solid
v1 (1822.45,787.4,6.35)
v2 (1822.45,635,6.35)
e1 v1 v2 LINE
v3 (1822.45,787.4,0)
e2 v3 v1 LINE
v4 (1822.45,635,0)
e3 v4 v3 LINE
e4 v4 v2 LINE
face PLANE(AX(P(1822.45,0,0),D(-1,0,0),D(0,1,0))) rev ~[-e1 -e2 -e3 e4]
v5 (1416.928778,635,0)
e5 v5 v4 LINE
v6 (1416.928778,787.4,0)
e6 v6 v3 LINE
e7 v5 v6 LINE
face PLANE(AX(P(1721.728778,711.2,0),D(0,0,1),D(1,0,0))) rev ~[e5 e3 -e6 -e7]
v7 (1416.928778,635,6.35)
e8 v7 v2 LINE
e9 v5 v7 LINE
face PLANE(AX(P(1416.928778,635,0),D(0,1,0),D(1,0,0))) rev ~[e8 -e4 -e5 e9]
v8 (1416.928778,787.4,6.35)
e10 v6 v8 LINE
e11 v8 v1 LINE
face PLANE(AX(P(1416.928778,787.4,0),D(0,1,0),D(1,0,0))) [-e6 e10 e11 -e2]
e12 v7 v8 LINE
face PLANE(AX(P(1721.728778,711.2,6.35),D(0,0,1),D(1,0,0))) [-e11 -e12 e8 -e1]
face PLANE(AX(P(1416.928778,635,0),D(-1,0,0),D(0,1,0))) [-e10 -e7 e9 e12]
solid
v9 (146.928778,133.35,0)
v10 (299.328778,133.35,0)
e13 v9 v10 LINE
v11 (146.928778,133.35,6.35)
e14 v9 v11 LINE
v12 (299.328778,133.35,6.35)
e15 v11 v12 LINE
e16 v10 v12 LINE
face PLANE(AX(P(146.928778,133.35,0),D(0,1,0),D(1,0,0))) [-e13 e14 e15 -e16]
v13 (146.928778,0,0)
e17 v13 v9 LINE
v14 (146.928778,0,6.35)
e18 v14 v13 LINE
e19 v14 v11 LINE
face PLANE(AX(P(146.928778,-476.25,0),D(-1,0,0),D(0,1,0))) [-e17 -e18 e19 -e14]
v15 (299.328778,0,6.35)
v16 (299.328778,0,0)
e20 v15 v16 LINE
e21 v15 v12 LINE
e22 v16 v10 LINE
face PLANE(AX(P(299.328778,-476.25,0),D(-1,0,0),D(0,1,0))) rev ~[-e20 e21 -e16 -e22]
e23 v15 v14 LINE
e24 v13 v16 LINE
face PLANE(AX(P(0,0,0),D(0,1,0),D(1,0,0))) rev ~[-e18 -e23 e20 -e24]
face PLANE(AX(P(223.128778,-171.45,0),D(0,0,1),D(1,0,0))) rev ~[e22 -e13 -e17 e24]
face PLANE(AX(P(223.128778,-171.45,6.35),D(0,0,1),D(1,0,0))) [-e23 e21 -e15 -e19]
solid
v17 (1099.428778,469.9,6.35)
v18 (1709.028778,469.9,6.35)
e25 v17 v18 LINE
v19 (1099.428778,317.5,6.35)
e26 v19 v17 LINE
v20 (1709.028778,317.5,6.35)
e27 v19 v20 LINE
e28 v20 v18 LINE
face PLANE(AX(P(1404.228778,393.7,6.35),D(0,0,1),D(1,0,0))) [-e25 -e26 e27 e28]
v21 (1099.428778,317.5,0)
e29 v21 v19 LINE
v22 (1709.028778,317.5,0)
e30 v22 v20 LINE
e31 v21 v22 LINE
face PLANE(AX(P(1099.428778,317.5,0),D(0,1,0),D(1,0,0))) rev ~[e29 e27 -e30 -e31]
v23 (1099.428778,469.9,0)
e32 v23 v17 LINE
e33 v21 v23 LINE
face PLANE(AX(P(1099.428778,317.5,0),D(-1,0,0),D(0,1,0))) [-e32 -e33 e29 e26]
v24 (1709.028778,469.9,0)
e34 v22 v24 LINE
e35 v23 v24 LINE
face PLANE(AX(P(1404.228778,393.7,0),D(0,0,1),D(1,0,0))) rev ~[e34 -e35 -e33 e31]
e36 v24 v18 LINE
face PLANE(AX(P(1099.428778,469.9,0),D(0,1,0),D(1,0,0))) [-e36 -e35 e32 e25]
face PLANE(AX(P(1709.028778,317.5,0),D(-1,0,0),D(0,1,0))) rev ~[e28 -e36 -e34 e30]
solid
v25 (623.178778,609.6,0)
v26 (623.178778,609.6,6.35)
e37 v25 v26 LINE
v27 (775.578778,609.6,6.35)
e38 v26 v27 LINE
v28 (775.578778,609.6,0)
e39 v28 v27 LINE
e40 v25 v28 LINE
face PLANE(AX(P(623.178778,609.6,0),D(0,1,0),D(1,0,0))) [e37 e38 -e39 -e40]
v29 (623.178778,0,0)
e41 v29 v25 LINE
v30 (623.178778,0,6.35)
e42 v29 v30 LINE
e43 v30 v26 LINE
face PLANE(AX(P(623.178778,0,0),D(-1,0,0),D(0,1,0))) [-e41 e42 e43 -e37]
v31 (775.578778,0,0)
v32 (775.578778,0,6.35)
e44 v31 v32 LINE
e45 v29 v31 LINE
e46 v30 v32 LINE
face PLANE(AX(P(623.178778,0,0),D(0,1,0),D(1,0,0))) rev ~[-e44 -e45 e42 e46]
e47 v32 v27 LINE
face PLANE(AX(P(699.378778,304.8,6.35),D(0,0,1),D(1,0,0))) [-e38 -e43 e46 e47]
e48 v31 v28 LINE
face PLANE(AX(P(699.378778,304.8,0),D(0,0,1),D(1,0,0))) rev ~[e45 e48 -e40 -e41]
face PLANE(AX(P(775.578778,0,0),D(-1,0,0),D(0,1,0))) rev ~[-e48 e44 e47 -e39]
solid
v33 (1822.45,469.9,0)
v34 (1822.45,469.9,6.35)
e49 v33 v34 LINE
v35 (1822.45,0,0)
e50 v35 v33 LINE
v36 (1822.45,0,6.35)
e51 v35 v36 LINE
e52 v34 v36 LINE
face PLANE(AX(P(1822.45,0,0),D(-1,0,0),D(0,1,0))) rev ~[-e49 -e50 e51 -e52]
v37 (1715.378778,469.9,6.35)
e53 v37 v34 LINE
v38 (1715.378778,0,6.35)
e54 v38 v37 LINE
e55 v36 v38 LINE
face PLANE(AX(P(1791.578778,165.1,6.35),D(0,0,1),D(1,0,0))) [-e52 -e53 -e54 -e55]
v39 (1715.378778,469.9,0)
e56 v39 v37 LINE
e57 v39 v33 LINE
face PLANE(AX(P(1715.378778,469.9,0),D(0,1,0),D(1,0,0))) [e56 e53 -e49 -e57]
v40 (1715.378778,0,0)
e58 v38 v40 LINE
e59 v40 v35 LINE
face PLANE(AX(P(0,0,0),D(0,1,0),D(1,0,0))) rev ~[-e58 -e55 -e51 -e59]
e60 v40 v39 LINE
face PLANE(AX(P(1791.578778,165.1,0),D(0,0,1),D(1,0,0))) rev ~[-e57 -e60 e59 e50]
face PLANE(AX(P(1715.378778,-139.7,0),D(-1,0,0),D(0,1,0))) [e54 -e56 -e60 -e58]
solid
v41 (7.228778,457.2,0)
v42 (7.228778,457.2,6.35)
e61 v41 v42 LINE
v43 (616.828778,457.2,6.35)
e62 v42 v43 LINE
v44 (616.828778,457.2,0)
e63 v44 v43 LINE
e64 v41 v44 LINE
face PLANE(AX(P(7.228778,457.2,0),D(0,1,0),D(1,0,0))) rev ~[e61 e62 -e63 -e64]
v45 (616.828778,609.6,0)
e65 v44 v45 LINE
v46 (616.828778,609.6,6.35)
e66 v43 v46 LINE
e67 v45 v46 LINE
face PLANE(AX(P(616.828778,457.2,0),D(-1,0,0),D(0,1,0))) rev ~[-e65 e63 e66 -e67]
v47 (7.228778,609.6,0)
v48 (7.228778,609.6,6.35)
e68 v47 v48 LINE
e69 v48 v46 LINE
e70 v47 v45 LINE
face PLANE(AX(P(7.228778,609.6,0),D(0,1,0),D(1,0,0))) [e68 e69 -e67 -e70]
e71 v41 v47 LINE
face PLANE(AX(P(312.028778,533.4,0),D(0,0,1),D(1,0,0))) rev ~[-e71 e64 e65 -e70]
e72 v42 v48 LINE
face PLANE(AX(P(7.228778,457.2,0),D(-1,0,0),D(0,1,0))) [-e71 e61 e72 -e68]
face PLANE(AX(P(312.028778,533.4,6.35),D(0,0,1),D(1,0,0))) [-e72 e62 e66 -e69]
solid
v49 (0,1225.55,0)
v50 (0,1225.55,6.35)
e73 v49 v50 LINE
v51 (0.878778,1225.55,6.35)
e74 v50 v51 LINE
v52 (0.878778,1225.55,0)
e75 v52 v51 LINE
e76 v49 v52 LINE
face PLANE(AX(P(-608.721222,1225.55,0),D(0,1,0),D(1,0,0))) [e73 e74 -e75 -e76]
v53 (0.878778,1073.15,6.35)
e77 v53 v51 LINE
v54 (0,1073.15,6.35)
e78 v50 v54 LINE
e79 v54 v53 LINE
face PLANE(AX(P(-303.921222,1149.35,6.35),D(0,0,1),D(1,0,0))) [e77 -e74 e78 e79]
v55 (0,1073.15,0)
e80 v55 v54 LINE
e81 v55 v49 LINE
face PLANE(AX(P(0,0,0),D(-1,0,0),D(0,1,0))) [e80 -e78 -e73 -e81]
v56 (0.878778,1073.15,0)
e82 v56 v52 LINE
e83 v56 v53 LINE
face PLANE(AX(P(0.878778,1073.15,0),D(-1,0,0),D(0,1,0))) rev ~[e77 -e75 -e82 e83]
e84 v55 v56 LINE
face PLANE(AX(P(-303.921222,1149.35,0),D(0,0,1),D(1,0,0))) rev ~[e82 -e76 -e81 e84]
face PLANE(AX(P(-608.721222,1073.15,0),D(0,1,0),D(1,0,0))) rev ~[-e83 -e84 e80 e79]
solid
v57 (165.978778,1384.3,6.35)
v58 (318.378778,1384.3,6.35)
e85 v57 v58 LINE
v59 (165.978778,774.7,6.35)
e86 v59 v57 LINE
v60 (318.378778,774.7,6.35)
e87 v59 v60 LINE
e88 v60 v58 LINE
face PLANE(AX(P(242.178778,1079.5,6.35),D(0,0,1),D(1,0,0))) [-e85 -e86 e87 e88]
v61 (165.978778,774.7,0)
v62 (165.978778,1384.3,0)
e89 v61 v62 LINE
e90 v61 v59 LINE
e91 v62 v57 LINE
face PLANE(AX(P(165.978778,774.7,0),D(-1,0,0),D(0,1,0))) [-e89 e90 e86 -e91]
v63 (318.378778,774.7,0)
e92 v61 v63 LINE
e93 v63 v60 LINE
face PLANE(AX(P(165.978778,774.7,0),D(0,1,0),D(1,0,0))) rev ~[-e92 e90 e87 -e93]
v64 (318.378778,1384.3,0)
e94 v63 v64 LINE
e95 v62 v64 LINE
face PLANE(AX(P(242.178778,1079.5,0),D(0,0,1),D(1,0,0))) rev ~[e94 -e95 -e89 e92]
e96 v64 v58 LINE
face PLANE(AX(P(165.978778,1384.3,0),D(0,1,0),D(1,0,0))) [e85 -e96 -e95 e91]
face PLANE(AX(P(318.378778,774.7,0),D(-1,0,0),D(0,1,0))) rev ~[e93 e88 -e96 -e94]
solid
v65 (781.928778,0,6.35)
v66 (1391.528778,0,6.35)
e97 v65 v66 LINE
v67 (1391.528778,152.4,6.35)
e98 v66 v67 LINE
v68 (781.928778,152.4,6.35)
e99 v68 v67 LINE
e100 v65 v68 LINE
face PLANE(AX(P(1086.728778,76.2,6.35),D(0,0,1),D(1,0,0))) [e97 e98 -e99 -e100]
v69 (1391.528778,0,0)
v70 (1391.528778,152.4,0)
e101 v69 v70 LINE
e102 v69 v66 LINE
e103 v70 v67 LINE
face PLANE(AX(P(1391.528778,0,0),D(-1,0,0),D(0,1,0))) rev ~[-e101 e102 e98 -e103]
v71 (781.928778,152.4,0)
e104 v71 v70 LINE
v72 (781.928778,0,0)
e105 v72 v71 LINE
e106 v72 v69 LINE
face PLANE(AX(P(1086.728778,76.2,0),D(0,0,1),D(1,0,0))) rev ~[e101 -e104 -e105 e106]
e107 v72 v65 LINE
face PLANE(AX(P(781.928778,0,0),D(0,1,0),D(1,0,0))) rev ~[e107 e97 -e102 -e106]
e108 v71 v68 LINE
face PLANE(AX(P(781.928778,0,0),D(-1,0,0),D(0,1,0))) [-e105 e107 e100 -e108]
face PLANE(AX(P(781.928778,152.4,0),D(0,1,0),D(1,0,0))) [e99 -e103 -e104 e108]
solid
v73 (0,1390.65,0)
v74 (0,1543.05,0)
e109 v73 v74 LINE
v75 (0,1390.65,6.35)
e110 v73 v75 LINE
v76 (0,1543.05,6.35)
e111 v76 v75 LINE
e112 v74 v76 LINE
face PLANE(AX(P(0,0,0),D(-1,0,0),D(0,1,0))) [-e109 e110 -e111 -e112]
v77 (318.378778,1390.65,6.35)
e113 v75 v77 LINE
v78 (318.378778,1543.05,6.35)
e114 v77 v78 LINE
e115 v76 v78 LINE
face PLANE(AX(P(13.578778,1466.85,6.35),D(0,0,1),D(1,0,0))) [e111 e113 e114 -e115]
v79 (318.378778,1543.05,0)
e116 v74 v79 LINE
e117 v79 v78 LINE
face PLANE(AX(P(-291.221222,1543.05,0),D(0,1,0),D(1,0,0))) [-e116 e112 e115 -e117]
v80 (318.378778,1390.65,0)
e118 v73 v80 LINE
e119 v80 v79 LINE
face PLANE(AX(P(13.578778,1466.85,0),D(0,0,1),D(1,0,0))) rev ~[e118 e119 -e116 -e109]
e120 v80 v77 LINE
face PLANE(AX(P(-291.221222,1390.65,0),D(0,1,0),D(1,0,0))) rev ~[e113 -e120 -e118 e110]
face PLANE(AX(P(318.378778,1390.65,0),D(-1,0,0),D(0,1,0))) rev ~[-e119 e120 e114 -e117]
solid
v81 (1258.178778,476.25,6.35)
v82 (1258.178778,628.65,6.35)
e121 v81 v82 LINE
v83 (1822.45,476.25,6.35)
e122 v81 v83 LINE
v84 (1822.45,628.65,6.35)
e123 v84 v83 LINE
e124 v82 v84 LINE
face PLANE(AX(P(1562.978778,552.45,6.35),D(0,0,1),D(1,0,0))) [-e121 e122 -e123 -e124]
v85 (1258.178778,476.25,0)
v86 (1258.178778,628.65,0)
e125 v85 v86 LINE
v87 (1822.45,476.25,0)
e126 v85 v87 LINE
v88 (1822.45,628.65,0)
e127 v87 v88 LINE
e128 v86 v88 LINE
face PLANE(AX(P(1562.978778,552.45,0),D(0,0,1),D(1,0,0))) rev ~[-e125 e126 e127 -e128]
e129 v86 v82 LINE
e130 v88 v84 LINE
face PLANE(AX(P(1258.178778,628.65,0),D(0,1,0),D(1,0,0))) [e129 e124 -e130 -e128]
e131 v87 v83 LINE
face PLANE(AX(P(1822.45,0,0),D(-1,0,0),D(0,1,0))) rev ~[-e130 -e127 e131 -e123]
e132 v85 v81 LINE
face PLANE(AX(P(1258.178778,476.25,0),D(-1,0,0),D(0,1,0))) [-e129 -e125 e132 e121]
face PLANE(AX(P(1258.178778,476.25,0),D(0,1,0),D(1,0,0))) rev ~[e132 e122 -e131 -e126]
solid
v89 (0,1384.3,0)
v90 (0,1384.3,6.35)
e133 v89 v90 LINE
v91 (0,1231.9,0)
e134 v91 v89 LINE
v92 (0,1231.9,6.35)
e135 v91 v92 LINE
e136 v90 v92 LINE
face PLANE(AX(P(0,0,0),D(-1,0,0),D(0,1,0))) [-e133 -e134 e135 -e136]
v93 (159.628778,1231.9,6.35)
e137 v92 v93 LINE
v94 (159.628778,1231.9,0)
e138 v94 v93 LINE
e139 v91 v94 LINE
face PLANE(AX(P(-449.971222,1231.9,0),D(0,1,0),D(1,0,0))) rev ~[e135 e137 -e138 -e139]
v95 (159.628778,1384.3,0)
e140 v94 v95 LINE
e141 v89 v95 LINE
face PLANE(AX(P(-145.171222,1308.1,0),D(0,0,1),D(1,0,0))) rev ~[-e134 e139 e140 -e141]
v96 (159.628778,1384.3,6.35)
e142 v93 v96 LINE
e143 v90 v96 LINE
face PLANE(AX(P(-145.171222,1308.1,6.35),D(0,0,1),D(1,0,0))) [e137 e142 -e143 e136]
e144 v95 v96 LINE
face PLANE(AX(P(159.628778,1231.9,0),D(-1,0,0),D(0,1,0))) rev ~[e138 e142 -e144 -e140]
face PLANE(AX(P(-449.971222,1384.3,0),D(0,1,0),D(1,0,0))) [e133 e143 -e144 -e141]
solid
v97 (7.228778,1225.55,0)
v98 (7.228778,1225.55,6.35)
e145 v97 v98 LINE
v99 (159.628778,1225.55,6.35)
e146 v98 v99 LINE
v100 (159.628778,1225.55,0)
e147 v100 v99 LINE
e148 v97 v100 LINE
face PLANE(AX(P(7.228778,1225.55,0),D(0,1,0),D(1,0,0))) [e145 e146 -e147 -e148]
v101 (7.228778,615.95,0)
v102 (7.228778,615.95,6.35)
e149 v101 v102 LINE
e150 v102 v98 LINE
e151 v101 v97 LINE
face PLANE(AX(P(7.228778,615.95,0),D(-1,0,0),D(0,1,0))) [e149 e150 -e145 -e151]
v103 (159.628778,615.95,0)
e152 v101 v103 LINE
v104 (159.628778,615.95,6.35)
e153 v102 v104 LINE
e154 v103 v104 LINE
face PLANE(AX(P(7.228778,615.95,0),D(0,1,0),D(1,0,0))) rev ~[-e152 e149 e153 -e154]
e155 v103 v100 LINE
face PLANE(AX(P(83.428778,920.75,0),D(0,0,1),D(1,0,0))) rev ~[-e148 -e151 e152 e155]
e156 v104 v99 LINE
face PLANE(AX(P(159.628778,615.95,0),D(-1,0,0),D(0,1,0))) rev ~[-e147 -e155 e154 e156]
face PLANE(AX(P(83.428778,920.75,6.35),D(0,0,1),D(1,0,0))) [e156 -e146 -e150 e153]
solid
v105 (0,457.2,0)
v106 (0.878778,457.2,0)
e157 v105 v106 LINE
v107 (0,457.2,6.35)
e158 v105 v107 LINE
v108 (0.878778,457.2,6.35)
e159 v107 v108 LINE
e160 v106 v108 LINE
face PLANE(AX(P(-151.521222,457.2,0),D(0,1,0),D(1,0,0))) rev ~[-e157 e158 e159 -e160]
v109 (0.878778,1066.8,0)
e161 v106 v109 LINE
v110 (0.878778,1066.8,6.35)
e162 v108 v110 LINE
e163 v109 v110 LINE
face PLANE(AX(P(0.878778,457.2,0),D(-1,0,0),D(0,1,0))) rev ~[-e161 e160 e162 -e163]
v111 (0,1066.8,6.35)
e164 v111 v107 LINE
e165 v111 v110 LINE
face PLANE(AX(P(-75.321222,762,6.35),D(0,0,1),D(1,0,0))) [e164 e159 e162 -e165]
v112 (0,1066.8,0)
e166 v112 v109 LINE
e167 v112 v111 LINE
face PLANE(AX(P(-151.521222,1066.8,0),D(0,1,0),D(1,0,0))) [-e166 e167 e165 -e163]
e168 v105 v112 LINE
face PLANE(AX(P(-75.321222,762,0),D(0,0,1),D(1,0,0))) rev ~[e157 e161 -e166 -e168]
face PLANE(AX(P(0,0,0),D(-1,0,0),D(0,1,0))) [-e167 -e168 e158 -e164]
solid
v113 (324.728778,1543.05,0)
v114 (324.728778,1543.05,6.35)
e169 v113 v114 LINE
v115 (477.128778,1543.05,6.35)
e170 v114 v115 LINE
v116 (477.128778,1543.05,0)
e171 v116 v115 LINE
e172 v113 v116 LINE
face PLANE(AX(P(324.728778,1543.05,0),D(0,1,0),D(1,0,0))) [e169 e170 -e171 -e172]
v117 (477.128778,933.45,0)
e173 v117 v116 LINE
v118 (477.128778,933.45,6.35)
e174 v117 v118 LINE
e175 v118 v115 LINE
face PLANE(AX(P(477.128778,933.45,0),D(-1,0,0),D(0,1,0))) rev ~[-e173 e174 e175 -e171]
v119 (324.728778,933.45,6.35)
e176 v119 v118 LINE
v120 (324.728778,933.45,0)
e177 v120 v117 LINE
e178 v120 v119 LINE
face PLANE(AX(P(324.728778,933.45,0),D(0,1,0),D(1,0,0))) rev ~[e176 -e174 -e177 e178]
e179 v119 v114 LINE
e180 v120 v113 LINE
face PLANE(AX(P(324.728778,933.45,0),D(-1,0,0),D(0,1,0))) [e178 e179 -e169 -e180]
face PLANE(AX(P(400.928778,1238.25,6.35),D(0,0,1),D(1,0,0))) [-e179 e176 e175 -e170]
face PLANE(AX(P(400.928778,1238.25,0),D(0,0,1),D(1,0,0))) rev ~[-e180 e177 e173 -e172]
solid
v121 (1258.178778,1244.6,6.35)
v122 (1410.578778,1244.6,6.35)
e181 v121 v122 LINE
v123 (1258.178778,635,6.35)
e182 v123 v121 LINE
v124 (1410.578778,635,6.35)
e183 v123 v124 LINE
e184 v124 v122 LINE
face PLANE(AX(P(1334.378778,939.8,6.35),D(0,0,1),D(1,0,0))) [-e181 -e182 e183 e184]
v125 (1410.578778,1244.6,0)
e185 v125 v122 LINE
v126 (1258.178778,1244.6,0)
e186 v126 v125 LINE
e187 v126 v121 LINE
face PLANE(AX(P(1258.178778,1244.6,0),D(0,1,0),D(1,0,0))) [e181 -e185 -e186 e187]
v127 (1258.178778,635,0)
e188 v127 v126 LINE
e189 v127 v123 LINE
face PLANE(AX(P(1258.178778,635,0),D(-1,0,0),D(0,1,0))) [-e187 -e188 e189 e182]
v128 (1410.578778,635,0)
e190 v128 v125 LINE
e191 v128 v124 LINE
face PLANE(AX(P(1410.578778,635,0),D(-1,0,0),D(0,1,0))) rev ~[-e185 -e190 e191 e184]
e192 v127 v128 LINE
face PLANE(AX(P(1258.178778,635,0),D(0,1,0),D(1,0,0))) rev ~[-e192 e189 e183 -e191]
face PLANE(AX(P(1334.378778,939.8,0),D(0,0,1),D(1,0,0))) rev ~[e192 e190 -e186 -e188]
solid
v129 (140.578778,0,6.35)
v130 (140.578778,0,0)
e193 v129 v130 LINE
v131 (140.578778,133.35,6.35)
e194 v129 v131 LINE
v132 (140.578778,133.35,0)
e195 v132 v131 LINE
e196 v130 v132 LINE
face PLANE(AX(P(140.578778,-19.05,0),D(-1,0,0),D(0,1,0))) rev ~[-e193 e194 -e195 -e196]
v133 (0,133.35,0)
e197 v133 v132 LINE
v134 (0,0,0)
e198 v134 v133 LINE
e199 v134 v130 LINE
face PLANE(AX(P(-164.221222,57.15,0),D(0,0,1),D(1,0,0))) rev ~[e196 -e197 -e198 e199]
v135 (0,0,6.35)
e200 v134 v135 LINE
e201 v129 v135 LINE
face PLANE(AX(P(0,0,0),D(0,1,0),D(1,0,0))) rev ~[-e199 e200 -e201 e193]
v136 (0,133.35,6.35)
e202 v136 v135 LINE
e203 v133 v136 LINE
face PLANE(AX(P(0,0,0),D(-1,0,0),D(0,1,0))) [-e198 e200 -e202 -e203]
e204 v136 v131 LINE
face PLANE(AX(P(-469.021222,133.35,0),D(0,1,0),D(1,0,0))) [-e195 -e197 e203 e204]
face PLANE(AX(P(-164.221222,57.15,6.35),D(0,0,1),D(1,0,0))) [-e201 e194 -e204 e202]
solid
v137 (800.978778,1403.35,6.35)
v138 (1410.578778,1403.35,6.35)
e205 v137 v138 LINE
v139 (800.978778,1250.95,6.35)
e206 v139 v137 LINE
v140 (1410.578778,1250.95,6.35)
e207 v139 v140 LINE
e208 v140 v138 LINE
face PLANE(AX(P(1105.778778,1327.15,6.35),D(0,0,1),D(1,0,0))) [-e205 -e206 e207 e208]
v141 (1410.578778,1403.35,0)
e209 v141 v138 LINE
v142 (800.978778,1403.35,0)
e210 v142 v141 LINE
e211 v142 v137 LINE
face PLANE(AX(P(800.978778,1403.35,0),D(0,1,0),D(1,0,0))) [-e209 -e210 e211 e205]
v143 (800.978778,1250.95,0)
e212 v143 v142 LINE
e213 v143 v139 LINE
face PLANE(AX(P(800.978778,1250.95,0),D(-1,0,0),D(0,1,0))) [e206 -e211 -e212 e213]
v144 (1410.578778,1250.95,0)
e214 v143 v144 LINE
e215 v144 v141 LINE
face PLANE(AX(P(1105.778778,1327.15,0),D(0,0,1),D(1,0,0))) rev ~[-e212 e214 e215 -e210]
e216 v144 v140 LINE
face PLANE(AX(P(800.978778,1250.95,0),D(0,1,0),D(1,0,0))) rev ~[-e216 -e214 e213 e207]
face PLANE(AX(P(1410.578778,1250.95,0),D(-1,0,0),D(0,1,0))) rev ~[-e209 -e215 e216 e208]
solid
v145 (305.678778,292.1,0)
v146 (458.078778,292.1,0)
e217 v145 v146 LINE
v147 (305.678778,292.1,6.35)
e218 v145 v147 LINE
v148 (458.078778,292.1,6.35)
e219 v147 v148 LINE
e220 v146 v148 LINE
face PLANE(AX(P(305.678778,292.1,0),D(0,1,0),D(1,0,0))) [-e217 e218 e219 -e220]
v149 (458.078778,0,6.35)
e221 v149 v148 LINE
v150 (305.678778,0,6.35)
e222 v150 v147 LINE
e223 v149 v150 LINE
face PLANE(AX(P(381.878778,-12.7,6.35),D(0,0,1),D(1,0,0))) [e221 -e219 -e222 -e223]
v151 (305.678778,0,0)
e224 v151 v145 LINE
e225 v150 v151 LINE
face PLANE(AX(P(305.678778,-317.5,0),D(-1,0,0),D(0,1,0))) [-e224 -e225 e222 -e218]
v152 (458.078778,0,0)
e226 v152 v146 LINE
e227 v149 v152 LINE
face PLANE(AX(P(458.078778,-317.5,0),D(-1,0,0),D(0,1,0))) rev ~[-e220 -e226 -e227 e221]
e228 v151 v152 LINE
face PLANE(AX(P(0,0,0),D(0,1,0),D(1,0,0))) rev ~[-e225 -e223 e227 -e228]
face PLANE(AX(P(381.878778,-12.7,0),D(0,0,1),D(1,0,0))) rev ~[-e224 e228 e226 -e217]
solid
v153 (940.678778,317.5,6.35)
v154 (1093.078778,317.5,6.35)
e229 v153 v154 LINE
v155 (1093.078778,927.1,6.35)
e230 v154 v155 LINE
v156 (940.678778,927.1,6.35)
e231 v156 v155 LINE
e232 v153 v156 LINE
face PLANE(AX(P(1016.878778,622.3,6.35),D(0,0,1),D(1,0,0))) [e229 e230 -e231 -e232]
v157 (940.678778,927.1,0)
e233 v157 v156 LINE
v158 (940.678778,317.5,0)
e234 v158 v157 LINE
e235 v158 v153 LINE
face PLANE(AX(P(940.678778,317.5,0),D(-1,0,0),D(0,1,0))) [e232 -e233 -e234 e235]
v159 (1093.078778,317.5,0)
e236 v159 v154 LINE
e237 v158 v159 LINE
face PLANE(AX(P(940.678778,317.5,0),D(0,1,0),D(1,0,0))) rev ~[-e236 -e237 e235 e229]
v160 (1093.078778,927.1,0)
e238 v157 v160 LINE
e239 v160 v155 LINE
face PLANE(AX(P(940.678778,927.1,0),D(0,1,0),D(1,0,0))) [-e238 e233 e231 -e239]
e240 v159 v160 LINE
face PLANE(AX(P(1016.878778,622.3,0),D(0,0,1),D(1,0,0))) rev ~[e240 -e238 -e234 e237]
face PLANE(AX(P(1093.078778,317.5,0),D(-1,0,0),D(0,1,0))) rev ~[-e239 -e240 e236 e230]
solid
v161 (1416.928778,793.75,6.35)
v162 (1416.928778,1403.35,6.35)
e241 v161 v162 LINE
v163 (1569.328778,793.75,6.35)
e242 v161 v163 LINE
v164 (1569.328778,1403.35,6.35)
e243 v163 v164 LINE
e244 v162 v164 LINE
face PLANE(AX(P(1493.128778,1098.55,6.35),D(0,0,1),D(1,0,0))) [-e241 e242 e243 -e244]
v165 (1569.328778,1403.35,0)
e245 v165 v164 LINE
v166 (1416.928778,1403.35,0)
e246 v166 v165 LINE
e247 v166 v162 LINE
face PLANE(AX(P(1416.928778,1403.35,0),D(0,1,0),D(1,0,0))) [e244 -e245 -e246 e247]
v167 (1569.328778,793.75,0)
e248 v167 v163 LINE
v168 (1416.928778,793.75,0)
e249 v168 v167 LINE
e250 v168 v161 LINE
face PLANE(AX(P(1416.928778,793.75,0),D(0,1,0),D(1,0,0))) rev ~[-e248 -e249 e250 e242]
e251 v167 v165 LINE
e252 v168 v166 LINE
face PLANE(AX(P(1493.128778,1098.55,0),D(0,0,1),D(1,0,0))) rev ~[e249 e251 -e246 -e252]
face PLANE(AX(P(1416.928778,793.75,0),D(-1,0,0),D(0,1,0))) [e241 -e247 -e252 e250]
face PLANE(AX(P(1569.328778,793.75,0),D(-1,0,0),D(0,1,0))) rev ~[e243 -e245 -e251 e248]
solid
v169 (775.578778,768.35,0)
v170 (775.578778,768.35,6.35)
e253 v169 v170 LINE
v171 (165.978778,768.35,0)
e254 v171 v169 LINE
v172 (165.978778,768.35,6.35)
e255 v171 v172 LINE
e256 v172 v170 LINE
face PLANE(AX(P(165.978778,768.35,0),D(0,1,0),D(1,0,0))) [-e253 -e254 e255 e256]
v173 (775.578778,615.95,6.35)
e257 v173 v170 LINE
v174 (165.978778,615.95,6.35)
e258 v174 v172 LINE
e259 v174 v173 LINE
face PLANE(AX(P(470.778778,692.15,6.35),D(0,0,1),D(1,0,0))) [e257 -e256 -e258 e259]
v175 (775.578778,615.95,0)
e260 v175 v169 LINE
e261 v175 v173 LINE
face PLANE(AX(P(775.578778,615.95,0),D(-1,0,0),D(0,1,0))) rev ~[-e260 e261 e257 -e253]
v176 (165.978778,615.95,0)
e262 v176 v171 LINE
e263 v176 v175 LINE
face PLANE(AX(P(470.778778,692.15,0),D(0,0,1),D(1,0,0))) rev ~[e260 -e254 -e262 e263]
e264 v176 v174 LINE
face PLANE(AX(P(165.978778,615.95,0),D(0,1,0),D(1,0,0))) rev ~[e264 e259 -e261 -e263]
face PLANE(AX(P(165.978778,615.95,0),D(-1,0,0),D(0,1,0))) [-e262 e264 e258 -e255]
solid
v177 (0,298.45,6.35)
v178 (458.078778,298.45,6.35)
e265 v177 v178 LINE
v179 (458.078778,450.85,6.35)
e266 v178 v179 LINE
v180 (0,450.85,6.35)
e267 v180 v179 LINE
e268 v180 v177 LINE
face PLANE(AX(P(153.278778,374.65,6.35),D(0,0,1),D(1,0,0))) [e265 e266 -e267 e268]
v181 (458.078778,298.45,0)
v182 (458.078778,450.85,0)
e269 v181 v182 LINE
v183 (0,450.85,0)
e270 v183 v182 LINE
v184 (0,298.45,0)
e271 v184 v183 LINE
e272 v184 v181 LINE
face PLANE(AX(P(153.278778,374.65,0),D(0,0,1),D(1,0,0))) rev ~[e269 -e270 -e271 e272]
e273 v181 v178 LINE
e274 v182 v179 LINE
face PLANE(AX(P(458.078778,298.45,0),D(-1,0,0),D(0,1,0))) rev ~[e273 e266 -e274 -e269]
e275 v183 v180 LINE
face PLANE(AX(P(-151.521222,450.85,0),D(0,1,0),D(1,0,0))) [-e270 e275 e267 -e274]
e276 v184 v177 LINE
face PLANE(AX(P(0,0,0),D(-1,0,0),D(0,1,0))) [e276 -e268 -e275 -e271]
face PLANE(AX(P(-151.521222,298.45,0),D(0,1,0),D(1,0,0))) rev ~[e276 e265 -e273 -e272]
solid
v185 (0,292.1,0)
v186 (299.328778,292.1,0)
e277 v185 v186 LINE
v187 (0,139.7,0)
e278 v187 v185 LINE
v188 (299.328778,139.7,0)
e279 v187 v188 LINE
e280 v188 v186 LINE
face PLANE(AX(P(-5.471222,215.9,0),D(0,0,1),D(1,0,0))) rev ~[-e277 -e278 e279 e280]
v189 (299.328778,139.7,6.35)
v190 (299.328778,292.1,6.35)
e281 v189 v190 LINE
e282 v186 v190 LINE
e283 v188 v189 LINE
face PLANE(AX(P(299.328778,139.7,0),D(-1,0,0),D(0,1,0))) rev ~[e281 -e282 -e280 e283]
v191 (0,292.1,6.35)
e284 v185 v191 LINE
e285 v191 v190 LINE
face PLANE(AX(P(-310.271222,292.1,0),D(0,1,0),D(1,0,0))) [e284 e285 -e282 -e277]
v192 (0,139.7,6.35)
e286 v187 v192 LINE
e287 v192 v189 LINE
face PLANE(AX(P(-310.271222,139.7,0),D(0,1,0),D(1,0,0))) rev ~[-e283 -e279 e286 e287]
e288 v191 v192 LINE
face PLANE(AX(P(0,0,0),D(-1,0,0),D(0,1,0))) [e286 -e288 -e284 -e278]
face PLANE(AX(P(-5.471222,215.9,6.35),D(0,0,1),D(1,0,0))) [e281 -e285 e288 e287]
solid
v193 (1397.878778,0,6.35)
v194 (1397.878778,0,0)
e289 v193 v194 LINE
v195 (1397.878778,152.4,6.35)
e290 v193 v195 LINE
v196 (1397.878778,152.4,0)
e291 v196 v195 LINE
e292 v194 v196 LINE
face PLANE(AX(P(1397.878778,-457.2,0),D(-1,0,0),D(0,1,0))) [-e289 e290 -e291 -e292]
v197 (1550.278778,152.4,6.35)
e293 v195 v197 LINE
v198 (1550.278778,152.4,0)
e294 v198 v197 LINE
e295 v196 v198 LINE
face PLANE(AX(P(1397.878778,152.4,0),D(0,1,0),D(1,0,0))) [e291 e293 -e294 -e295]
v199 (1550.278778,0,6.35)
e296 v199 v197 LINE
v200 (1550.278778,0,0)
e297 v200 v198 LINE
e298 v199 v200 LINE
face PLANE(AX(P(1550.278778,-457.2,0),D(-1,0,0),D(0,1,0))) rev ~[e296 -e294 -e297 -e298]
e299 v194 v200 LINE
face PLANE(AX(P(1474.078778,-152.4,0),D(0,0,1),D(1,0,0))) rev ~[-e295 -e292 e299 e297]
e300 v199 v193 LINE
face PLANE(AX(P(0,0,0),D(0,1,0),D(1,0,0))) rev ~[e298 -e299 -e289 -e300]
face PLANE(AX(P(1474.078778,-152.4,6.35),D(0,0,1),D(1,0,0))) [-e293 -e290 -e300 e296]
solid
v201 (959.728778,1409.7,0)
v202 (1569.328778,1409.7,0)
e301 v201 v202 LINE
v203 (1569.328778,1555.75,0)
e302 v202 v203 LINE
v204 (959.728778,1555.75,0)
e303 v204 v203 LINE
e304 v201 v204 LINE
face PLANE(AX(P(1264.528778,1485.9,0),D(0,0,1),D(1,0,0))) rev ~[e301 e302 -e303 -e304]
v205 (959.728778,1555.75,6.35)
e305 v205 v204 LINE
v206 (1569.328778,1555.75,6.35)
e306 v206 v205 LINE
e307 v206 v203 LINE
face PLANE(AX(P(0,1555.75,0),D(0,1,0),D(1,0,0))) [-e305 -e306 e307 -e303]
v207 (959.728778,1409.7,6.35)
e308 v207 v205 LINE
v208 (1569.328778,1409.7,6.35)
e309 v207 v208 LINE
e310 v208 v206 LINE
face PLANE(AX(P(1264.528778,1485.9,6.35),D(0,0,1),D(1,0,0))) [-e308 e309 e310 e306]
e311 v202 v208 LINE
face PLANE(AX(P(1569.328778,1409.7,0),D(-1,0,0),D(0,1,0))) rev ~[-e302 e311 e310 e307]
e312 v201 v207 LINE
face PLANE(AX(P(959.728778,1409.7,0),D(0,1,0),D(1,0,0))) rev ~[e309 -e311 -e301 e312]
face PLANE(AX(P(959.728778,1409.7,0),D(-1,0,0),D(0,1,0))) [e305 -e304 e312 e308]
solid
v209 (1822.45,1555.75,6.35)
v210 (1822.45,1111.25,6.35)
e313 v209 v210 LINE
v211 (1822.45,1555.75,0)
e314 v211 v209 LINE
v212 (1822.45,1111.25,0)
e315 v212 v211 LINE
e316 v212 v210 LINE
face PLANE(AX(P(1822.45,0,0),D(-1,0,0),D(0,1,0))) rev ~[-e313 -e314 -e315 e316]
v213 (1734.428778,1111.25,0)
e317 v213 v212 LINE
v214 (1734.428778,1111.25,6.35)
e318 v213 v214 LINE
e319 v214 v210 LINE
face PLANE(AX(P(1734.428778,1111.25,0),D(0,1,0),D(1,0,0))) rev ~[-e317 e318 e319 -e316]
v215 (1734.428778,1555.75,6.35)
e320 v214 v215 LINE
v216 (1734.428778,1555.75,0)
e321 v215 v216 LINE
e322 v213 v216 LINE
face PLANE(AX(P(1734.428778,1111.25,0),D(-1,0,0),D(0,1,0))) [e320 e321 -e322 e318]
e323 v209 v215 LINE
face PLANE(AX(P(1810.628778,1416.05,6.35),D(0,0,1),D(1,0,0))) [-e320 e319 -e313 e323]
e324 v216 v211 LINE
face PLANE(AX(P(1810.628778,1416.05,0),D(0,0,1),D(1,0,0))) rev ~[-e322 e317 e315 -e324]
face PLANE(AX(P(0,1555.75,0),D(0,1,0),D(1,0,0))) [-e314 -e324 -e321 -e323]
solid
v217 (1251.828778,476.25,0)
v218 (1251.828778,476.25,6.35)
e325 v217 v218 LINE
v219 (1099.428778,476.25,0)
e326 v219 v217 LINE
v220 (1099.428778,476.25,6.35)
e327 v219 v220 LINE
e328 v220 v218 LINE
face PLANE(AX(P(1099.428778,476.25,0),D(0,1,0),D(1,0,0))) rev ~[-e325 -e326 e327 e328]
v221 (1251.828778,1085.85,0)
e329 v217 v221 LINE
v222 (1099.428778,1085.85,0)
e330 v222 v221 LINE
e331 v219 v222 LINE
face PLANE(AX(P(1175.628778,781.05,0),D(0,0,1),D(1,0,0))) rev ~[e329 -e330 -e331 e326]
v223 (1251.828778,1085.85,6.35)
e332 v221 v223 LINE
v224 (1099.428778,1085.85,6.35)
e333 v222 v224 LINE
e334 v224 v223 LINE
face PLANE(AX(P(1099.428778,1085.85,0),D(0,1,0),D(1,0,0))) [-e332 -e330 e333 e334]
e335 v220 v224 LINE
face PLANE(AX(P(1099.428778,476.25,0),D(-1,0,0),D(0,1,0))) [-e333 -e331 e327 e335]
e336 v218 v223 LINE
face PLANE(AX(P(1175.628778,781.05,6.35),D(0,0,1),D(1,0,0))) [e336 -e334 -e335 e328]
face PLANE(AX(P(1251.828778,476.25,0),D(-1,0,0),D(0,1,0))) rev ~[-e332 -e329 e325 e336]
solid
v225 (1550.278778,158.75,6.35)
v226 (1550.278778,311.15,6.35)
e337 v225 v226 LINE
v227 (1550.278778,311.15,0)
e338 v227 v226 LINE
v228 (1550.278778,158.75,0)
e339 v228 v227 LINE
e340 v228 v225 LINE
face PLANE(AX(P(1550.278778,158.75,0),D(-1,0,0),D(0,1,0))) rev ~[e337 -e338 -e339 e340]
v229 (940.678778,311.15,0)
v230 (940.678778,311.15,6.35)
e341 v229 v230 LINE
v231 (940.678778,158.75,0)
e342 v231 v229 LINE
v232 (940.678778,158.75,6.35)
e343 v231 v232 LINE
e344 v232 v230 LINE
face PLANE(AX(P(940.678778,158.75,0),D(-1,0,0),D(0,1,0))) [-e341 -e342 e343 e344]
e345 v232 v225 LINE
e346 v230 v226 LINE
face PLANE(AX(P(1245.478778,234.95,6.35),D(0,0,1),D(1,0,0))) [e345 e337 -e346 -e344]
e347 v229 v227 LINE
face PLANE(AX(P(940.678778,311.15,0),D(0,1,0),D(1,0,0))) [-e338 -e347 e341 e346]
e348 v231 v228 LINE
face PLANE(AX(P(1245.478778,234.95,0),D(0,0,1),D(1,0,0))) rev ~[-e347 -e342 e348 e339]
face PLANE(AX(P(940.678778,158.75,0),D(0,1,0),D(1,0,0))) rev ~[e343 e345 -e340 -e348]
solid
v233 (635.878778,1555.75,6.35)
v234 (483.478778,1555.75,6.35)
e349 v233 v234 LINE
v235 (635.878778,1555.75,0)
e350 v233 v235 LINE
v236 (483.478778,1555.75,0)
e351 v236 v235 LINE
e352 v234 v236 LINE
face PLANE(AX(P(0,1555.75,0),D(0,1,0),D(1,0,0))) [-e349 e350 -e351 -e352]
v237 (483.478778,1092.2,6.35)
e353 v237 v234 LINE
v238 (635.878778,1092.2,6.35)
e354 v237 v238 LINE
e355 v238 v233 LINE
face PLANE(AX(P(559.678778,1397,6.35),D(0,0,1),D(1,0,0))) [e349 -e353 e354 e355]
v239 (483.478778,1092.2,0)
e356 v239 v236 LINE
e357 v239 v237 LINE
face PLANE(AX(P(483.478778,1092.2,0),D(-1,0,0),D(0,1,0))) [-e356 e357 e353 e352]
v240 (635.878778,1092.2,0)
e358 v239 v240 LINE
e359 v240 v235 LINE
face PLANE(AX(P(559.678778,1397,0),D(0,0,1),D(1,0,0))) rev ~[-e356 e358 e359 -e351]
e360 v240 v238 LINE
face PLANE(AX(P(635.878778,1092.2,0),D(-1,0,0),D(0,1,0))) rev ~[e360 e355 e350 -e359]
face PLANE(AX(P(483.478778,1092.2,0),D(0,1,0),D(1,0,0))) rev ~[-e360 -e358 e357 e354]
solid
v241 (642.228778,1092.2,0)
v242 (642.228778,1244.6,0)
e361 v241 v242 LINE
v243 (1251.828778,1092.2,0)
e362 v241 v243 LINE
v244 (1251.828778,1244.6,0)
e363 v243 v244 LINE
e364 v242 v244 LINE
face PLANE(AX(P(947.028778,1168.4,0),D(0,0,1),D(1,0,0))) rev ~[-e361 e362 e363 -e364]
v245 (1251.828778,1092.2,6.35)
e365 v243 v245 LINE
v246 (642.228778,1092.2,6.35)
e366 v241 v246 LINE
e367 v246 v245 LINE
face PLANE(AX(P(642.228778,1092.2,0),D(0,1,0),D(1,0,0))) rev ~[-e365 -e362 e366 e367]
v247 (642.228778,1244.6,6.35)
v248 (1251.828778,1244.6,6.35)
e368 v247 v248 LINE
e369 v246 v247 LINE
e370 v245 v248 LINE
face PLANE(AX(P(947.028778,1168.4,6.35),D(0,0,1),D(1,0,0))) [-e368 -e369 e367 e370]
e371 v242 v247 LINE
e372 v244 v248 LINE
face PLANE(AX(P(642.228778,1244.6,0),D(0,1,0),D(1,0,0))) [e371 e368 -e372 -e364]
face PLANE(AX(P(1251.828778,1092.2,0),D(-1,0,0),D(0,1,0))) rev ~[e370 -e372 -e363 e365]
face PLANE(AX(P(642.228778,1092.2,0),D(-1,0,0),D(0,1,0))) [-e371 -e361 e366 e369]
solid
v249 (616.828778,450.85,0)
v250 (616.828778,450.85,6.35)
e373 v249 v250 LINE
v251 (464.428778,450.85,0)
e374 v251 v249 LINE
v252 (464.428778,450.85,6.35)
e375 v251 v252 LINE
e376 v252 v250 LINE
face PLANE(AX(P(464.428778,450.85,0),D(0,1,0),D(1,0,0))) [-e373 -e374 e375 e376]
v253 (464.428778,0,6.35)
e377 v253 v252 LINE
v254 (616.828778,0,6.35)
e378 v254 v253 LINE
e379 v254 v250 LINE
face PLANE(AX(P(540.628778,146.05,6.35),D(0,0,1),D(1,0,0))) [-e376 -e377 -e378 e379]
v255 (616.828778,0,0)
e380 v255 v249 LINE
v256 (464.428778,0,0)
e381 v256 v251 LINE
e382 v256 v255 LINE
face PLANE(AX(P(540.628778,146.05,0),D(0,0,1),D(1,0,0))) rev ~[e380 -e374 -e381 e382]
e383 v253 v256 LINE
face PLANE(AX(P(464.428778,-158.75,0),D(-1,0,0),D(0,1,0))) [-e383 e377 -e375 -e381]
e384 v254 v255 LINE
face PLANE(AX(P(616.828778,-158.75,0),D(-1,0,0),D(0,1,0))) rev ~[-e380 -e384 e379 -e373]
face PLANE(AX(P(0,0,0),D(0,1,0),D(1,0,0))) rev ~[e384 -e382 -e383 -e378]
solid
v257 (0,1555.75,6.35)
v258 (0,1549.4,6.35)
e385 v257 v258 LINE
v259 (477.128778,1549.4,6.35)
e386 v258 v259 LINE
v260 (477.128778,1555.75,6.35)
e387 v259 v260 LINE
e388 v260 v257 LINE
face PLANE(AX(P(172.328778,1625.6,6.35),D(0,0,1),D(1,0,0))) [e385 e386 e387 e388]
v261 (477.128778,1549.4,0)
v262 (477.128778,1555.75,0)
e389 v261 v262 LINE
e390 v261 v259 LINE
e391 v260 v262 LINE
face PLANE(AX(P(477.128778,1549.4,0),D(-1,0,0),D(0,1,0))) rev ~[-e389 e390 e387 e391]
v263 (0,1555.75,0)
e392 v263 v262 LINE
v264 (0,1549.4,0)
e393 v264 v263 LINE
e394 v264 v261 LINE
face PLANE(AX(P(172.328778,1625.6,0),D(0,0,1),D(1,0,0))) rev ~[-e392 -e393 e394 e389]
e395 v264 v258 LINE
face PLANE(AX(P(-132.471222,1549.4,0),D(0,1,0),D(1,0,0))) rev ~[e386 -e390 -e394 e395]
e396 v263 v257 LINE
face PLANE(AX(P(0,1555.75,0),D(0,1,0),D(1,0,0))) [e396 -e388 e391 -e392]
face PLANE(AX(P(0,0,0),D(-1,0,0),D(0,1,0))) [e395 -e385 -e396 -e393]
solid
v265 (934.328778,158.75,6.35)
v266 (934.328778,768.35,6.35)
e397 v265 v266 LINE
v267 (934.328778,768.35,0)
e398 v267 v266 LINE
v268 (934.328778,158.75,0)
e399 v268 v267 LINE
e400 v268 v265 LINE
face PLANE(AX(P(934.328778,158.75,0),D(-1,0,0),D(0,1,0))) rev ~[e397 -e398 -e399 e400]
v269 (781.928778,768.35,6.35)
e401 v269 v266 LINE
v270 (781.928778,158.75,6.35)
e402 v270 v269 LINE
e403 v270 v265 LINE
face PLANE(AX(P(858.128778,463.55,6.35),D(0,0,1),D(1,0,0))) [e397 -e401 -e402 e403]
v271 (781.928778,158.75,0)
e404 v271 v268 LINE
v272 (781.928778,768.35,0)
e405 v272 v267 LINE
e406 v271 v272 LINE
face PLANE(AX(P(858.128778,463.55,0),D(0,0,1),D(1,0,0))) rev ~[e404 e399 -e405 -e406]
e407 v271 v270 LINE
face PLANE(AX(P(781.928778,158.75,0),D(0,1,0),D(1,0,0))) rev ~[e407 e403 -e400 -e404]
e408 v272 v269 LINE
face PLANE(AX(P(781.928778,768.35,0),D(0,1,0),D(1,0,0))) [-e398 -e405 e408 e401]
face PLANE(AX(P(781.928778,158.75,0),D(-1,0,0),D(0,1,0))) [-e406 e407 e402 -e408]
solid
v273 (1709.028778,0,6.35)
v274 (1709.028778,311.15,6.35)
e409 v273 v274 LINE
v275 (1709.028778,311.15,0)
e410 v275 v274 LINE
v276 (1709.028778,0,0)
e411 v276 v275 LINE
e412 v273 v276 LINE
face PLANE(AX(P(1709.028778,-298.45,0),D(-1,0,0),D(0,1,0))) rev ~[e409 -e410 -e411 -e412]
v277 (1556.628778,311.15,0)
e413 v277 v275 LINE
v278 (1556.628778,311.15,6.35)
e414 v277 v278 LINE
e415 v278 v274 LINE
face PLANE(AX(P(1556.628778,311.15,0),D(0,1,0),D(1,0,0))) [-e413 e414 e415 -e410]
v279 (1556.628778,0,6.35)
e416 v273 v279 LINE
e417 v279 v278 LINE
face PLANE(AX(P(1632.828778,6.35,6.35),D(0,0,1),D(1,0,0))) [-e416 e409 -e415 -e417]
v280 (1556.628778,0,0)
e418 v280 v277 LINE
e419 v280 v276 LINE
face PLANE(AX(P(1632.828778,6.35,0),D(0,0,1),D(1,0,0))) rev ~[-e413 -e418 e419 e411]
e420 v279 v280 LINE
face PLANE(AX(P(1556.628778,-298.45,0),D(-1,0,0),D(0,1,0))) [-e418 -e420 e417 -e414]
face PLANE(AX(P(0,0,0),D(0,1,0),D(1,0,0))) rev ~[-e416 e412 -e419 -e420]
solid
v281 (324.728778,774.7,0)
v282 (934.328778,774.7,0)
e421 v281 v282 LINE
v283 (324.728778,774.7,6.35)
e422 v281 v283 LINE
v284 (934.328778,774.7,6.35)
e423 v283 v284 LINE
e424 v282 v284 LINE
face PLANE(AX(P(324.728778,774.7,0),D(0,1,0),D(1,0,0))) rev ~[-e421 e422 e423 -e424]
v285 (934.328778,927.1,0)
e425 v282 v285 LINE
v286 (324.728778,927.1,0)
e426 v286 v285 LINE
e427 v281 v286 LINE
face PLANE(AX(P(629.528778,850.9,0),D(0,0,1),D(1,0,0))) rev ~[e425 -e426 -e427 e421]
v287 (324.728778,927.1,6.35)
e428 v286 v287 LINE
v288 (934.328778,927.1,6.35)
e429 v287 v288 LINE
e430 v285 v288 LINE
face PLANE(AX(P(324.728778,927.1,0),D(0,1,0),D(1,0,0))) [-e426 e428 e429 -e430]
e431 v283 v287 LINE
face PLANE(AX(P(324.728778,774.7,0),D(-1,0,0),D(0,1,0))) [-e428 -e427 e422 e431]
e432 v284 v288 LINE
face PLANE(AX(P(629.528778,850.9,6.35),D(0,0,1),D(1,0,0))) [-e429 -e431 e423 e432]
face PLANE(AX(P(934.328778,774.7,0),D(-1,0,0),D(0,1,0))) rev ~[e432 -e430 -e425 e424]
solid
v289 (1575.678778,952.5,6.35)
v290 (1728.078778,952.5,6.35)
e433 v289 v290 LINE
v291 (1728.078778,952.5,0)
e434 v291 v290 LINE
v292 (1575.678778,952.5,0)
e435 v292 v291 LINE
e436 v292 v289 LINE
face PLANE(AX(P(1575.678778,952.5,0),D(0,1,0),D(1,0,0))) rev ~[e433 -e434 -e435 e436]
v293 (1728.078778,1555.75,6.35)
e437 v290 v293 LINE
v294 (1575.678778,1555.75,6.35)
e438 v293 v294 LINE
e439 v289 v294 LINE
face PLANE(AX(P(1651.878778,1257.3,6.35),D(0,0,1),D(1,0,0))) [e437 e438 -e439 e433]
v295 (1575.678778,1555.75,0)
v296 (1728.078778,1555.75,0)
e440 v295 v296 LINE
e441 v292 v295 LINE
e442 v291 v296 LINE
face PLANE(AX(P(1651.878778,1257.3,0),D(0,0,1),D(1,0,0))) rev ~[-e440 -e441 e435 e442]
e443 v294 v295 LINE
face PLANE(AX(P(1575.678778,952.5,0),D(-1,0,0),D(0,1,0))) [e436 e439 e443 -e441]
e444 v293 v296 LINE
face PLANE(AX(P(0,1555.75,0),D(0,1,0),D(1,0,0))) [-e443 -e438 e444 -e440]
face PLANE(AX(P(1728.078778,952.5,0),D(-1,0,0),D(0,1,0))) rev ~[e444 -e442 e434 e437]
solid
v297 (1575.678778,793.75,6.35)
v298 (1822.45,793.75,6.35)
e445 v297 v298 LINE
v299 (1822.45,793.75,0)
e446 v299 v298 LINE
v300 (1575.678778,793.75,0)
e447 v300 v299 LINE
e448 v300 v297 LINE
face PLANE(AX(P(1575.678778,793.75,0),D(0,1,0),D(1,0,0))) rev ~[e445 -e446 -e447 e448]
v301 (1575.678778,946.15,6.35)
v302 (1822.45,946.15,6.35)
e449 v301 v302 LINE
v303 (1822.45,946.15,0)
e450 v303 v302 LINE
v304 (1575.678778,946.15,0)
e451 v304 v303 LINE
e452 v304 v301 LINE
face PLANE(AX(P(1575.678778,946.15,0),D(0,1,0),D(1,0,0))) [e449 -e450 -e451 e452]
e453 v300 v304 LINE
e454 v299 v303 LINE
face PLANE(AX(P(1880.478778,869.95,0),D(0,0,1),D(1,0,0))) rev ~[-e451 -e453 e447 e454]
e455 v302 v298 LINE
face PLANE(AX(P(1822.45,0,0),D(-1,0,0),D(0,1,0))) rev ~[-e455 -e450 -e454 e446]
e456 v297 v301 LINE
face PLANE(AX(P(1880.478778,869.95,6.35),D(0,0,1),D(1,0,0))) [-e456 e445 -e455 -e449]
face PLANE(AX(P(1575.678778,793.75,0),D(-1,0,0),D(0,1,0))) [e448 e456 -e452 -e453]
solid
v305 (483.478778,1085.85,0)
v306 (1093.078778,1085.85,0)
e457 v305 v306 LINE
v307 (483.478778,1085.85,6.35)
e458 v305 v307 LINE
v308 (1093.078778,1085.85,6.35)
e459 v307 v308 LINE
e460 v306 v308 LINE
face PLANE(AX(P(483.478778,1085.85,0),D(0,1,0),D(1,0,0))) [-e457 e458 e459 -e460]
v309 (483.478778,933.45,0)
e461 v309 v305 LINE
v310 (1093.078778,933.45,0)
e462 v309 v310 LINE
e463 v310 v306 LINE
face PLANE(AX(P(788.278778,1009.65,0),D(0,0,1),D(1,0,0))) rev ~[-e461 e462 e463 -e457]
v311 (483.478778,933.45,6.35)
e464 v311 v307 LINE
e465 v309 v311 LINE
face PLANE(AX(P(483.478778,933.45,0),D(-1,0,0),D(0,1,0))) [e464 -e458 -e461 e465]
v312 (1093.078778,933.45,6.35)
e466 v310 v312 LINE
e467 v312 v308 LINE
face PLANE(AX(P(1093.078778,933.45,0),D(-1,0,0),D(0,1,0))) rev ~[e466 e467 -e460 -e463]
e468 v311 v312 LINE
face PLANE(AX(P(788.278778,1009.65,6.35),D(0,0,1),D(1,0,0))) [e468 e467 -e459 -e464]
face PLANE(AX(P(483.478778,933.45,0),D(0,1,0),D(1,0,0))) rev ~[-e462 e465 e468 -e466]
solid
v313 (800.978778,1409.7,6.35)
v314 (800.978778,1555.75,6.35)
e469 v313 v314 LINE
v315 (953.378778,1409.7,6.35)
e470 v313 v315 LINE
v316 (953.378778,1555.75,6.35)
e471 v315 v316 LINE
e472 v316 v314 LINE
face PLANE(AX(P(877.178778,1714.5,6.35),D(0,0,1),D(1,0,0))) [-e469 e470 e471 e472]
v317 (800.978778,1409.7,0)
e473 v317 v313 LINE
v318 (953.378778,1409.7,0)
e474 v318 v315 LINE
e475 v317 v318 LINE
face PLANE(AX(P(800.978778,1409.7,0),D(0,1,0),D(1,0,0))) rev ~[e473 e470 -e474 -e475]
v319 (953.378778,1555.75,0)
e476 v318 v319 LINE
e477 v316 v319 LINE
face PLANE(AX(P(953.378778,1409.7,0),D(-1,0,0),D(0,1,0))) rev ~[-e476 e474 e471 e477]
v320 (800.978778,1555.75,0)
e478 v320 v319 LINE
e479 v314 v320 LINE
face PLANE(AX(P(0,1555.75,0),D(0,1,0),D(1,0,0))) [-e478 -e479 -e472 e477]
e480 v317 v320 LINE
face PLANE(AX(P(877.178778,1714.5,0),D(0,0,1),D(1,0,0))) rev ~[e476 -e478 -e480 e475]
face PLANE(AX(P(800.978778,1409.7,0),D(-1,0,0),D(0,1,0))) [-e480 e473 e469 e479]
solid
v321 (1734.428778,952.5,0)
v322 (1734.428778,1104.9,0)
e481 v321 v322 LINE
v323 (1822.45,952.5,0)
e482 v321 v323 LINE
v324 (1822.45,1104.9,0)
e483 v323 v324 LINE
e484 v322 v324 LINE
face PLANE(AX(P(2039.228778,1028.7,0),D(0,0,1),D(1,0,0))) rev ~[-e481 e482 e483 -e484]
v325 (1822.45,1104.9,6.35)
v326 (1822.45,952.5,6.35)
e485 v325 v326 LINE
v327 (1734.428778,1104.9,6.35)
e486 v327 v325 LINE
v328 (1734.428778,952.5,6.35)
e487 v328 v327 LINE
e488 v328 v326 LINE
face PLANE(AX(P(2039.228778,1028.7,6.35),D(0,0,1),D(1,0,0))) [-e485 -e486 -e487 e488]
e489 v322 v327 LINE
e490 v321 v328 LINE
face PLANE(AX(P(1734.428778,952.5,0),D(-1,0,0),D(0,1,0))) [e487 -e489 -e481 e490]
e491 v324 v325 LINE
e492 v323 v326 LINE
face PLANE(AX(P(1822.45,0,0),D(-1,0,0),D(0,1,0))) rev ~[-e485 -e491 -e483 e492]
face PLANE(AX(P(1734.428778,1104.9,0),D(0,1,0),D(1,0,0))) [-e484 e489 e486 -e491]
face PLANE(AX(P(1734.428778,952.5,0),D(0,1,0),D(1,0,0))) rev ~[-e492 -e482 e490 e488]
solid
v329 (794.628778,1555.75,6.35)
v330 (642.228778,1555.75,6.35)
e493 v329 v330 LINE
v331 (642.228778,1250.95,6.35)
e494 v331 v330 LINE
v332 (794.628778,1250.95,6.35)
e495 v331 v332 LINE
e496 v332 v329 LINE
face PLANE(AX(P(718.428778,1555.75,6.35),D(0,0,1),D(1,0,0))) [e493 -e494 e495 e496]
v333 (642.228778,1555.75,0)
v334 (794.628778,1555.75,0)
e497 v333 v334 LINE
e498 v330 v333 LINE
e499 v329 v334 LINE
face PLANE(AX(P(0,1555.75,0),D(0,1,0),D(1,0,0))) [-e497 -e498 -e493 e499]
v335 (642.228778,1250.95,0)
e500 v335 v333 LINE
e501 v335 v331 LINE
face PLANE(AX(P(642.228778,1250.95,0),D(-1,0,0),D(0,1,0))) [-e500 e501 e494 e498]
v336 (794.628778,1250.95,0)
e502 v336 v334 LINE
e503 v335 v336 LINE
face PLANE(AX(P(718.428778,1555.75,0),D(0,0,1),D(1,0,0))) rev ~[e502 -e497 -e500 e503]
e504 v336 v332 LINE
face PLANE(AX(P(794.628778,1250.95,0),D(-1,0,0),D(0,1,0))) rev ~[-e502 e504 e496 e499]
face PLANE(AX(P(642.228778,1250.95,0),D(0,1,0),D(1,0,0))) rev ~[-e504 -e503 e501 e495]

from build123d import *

# Parameters (mm, degrees)
F1_W     = 609.6
F1_H     = 152.4
F1_W_2   = 152.4
F1_H_2   = 609.6
F2_DEPTH = 6.35
F3_W     = 4289.612889
F3_H     = 4005.097747
F3_W_2   = 1822.45
F3_H_2   = 1555.75
F4_DEPTH = 6.351


with BuildPart() as f2:
    # F1 (on Top) → F2 (new body)
    with BuildSketch(Plane.XY):
        with Locations((1086.728778, 76.2)):
            Rectangle(F1_W, F1_H)
        with Locations((858.128778, 463.55)):
            Rectangle(F1_W_2, F1_H_2)
        with Locations((1245.478778, 234.95)):
            Rectangle(F1_W, F1_H)
        with Locations((1016.878778, 622.3)):
            Rectangle(F1_W_2, F1_H_2)
        with Locations((699.378778, 304.8)):
            Rectangle(F1_W_2, F1_H_2)
        with Locations((312.028778, 533.4)):
            Rectangle(F1_W, F1_H)
        with Locations((540.628778, 146.05)):
            Rectangle(F1_W_2, F1_H_2)
        with Locations((153.278778, 374.65)):
            Rectangle(F1_W, F1_H)
        with Locations((381.878778, -12.7)):
            Rectangle(F1_W_2, F1_H_2)
        with Locations((-5.471222, 215.9)):
            Rectangle(F1_W, F1_H)
        with Locations((223.128778, -171.45)):
            Rectangle(F1_W_2, F1_H_2)
        with Locations((64.378778, -330.2)):
            Rectangle(F1_W_2, F1_H_2)
        with Locations((-164.221222, 57.15)):
            Rectangle(F1_W, F1_H)
        with Locations((470.778778, 692.15)):
            Rectangle(F1_W, F1_H)
        with Locations((629.528778, 850.9)):
            Rectangle(F1_W, F1_H)
        with Locations((788.278778, 1009.65)):
            Rectangle(F1_W, F1_H)
        with Locations((1404.228778, 393.7)):
            Rectangle(F1_W, F1_H)
        with Locations((1175.628778, 781.05)):
            Rectangle(F1_W_2, F1_H_2)
        with Locations((1562.978778, 552.45)):
            Rectangle(F1_W, F1_H)
        with Locations((1334.378778, 939.8)):
            Rectangle(F1_W_2, F1_H_2)
        with Locations((1721.728778, 711.2)):
            Rectangle(F1_W, F1_H)
        with Locations((947.028778, 1168.4)):
            Rectangle(F1_W, F1_H)
        with Locations((1493.128778, 1098.55)):
            Rectangle(F1_W_2, F1_H_2)
        with Locations((1880.478778, 869.95)):
            Rectangle(F1_W, F1_H)
        with Locations((1105.778778, 1327.15)):
            Rectangle(F1_W, F1_H)
        with Locations((718.428778, 1555.75)):
            Rectangle(F1_W_2, F1_H_2)
        with Locations((559.678778, 1397)):
            Rectangle(F1_W_2, F1_H_2)
        with Locations((400.928778, 1238.25)):
            Rectangle(F1_W_2, F1_H_2)
        with Locations((242.178778, 1079.5)):
            Rectangle(F1_W_2, F1_H_2)
        with Locations((83.428778, 920.75)):
            Rectangle(F1_W_2, F1_H_2)
        with Locations((-75.321222, 762)):
            Rectangle(F1_W_2, F1_H_2)
        with Locations((1474.078778, -152.4)):
            Rectangle(F1_W_2, F1_H_2)
        with Locations((1632.828778, 6.35)):
            Rectangle(F1_W_2, F1_H_2)
        with Locations((1791.578778, 165.1)):
            Rectangle(F1_W_2, F1_H_2)
        with Locations((-234.071222, 603.25)):
            Rectangle(F1_W_2, F1_H_2)
        with Locations((877.178778, 1714.5)):
            Rectangle(F1_W_2, F1_H_2)
        with Locations((1264.528778, 1485.9)):
            Rectangle(F1_W, F1_H)
        with Locations((-392.821222, 444.5)):
            Rectangle(F1_W_2, F1_H_2)
        with Locations((-621.421222, 831.85)):
            Rectangle(F1_W, F1_H)
        with Locations((-462.671222, 990.6)):
            Rectangle(F1_W, F1_H)
        with Locations((-303.921222, 1149.35)):
            Rectangle(F1_W, F1_H)
        with Locations((-145.171222, 1308.1)):
            Rectangle(F1_W, F1_H)
        with Locations((13.578778, 1466.85)):
            Rectangle(F1_W, F1_H)
        with Locations((172.328778, 1625.6)):
            Rectangle(F1_W, F1_H)
        with Locations((-215.021222, 1854.2)):
            Rectangle(F1_W_2, F1_H_2)
        with Locations((-373.771222, 1695.45)):
            Rectangle(F1_W_2, F1_H_2)
        with Locations((1651.878778, 1257.3)):
            Rectangle(F1_W_2, F1_H_2)
        with Locations((2039.228778, 1028.7)):
            Rectangle(F1_W, F1_H)
        with Locations((1810.628778, 1416.05)):
            Rectangle(F1_W_2, F1_H_2)
    extrude(amount=F2_DEPTH)

    # F3 (on Top) → F4 (cut, through all)
    with BuildSketch(Plane.XY):
        with Locations((857.388675, 780.000746)):
            Rectangle(F3_W, F3_H)
        with Locations((911.225, 777.875)):
            Rectangle(F3_W_2, F3_H_2, mode=Mode.SUBTRACT)
    extrude(amount=F4_DEPTH, mode=Mode.SUBTRACT)


solid = f2.part
